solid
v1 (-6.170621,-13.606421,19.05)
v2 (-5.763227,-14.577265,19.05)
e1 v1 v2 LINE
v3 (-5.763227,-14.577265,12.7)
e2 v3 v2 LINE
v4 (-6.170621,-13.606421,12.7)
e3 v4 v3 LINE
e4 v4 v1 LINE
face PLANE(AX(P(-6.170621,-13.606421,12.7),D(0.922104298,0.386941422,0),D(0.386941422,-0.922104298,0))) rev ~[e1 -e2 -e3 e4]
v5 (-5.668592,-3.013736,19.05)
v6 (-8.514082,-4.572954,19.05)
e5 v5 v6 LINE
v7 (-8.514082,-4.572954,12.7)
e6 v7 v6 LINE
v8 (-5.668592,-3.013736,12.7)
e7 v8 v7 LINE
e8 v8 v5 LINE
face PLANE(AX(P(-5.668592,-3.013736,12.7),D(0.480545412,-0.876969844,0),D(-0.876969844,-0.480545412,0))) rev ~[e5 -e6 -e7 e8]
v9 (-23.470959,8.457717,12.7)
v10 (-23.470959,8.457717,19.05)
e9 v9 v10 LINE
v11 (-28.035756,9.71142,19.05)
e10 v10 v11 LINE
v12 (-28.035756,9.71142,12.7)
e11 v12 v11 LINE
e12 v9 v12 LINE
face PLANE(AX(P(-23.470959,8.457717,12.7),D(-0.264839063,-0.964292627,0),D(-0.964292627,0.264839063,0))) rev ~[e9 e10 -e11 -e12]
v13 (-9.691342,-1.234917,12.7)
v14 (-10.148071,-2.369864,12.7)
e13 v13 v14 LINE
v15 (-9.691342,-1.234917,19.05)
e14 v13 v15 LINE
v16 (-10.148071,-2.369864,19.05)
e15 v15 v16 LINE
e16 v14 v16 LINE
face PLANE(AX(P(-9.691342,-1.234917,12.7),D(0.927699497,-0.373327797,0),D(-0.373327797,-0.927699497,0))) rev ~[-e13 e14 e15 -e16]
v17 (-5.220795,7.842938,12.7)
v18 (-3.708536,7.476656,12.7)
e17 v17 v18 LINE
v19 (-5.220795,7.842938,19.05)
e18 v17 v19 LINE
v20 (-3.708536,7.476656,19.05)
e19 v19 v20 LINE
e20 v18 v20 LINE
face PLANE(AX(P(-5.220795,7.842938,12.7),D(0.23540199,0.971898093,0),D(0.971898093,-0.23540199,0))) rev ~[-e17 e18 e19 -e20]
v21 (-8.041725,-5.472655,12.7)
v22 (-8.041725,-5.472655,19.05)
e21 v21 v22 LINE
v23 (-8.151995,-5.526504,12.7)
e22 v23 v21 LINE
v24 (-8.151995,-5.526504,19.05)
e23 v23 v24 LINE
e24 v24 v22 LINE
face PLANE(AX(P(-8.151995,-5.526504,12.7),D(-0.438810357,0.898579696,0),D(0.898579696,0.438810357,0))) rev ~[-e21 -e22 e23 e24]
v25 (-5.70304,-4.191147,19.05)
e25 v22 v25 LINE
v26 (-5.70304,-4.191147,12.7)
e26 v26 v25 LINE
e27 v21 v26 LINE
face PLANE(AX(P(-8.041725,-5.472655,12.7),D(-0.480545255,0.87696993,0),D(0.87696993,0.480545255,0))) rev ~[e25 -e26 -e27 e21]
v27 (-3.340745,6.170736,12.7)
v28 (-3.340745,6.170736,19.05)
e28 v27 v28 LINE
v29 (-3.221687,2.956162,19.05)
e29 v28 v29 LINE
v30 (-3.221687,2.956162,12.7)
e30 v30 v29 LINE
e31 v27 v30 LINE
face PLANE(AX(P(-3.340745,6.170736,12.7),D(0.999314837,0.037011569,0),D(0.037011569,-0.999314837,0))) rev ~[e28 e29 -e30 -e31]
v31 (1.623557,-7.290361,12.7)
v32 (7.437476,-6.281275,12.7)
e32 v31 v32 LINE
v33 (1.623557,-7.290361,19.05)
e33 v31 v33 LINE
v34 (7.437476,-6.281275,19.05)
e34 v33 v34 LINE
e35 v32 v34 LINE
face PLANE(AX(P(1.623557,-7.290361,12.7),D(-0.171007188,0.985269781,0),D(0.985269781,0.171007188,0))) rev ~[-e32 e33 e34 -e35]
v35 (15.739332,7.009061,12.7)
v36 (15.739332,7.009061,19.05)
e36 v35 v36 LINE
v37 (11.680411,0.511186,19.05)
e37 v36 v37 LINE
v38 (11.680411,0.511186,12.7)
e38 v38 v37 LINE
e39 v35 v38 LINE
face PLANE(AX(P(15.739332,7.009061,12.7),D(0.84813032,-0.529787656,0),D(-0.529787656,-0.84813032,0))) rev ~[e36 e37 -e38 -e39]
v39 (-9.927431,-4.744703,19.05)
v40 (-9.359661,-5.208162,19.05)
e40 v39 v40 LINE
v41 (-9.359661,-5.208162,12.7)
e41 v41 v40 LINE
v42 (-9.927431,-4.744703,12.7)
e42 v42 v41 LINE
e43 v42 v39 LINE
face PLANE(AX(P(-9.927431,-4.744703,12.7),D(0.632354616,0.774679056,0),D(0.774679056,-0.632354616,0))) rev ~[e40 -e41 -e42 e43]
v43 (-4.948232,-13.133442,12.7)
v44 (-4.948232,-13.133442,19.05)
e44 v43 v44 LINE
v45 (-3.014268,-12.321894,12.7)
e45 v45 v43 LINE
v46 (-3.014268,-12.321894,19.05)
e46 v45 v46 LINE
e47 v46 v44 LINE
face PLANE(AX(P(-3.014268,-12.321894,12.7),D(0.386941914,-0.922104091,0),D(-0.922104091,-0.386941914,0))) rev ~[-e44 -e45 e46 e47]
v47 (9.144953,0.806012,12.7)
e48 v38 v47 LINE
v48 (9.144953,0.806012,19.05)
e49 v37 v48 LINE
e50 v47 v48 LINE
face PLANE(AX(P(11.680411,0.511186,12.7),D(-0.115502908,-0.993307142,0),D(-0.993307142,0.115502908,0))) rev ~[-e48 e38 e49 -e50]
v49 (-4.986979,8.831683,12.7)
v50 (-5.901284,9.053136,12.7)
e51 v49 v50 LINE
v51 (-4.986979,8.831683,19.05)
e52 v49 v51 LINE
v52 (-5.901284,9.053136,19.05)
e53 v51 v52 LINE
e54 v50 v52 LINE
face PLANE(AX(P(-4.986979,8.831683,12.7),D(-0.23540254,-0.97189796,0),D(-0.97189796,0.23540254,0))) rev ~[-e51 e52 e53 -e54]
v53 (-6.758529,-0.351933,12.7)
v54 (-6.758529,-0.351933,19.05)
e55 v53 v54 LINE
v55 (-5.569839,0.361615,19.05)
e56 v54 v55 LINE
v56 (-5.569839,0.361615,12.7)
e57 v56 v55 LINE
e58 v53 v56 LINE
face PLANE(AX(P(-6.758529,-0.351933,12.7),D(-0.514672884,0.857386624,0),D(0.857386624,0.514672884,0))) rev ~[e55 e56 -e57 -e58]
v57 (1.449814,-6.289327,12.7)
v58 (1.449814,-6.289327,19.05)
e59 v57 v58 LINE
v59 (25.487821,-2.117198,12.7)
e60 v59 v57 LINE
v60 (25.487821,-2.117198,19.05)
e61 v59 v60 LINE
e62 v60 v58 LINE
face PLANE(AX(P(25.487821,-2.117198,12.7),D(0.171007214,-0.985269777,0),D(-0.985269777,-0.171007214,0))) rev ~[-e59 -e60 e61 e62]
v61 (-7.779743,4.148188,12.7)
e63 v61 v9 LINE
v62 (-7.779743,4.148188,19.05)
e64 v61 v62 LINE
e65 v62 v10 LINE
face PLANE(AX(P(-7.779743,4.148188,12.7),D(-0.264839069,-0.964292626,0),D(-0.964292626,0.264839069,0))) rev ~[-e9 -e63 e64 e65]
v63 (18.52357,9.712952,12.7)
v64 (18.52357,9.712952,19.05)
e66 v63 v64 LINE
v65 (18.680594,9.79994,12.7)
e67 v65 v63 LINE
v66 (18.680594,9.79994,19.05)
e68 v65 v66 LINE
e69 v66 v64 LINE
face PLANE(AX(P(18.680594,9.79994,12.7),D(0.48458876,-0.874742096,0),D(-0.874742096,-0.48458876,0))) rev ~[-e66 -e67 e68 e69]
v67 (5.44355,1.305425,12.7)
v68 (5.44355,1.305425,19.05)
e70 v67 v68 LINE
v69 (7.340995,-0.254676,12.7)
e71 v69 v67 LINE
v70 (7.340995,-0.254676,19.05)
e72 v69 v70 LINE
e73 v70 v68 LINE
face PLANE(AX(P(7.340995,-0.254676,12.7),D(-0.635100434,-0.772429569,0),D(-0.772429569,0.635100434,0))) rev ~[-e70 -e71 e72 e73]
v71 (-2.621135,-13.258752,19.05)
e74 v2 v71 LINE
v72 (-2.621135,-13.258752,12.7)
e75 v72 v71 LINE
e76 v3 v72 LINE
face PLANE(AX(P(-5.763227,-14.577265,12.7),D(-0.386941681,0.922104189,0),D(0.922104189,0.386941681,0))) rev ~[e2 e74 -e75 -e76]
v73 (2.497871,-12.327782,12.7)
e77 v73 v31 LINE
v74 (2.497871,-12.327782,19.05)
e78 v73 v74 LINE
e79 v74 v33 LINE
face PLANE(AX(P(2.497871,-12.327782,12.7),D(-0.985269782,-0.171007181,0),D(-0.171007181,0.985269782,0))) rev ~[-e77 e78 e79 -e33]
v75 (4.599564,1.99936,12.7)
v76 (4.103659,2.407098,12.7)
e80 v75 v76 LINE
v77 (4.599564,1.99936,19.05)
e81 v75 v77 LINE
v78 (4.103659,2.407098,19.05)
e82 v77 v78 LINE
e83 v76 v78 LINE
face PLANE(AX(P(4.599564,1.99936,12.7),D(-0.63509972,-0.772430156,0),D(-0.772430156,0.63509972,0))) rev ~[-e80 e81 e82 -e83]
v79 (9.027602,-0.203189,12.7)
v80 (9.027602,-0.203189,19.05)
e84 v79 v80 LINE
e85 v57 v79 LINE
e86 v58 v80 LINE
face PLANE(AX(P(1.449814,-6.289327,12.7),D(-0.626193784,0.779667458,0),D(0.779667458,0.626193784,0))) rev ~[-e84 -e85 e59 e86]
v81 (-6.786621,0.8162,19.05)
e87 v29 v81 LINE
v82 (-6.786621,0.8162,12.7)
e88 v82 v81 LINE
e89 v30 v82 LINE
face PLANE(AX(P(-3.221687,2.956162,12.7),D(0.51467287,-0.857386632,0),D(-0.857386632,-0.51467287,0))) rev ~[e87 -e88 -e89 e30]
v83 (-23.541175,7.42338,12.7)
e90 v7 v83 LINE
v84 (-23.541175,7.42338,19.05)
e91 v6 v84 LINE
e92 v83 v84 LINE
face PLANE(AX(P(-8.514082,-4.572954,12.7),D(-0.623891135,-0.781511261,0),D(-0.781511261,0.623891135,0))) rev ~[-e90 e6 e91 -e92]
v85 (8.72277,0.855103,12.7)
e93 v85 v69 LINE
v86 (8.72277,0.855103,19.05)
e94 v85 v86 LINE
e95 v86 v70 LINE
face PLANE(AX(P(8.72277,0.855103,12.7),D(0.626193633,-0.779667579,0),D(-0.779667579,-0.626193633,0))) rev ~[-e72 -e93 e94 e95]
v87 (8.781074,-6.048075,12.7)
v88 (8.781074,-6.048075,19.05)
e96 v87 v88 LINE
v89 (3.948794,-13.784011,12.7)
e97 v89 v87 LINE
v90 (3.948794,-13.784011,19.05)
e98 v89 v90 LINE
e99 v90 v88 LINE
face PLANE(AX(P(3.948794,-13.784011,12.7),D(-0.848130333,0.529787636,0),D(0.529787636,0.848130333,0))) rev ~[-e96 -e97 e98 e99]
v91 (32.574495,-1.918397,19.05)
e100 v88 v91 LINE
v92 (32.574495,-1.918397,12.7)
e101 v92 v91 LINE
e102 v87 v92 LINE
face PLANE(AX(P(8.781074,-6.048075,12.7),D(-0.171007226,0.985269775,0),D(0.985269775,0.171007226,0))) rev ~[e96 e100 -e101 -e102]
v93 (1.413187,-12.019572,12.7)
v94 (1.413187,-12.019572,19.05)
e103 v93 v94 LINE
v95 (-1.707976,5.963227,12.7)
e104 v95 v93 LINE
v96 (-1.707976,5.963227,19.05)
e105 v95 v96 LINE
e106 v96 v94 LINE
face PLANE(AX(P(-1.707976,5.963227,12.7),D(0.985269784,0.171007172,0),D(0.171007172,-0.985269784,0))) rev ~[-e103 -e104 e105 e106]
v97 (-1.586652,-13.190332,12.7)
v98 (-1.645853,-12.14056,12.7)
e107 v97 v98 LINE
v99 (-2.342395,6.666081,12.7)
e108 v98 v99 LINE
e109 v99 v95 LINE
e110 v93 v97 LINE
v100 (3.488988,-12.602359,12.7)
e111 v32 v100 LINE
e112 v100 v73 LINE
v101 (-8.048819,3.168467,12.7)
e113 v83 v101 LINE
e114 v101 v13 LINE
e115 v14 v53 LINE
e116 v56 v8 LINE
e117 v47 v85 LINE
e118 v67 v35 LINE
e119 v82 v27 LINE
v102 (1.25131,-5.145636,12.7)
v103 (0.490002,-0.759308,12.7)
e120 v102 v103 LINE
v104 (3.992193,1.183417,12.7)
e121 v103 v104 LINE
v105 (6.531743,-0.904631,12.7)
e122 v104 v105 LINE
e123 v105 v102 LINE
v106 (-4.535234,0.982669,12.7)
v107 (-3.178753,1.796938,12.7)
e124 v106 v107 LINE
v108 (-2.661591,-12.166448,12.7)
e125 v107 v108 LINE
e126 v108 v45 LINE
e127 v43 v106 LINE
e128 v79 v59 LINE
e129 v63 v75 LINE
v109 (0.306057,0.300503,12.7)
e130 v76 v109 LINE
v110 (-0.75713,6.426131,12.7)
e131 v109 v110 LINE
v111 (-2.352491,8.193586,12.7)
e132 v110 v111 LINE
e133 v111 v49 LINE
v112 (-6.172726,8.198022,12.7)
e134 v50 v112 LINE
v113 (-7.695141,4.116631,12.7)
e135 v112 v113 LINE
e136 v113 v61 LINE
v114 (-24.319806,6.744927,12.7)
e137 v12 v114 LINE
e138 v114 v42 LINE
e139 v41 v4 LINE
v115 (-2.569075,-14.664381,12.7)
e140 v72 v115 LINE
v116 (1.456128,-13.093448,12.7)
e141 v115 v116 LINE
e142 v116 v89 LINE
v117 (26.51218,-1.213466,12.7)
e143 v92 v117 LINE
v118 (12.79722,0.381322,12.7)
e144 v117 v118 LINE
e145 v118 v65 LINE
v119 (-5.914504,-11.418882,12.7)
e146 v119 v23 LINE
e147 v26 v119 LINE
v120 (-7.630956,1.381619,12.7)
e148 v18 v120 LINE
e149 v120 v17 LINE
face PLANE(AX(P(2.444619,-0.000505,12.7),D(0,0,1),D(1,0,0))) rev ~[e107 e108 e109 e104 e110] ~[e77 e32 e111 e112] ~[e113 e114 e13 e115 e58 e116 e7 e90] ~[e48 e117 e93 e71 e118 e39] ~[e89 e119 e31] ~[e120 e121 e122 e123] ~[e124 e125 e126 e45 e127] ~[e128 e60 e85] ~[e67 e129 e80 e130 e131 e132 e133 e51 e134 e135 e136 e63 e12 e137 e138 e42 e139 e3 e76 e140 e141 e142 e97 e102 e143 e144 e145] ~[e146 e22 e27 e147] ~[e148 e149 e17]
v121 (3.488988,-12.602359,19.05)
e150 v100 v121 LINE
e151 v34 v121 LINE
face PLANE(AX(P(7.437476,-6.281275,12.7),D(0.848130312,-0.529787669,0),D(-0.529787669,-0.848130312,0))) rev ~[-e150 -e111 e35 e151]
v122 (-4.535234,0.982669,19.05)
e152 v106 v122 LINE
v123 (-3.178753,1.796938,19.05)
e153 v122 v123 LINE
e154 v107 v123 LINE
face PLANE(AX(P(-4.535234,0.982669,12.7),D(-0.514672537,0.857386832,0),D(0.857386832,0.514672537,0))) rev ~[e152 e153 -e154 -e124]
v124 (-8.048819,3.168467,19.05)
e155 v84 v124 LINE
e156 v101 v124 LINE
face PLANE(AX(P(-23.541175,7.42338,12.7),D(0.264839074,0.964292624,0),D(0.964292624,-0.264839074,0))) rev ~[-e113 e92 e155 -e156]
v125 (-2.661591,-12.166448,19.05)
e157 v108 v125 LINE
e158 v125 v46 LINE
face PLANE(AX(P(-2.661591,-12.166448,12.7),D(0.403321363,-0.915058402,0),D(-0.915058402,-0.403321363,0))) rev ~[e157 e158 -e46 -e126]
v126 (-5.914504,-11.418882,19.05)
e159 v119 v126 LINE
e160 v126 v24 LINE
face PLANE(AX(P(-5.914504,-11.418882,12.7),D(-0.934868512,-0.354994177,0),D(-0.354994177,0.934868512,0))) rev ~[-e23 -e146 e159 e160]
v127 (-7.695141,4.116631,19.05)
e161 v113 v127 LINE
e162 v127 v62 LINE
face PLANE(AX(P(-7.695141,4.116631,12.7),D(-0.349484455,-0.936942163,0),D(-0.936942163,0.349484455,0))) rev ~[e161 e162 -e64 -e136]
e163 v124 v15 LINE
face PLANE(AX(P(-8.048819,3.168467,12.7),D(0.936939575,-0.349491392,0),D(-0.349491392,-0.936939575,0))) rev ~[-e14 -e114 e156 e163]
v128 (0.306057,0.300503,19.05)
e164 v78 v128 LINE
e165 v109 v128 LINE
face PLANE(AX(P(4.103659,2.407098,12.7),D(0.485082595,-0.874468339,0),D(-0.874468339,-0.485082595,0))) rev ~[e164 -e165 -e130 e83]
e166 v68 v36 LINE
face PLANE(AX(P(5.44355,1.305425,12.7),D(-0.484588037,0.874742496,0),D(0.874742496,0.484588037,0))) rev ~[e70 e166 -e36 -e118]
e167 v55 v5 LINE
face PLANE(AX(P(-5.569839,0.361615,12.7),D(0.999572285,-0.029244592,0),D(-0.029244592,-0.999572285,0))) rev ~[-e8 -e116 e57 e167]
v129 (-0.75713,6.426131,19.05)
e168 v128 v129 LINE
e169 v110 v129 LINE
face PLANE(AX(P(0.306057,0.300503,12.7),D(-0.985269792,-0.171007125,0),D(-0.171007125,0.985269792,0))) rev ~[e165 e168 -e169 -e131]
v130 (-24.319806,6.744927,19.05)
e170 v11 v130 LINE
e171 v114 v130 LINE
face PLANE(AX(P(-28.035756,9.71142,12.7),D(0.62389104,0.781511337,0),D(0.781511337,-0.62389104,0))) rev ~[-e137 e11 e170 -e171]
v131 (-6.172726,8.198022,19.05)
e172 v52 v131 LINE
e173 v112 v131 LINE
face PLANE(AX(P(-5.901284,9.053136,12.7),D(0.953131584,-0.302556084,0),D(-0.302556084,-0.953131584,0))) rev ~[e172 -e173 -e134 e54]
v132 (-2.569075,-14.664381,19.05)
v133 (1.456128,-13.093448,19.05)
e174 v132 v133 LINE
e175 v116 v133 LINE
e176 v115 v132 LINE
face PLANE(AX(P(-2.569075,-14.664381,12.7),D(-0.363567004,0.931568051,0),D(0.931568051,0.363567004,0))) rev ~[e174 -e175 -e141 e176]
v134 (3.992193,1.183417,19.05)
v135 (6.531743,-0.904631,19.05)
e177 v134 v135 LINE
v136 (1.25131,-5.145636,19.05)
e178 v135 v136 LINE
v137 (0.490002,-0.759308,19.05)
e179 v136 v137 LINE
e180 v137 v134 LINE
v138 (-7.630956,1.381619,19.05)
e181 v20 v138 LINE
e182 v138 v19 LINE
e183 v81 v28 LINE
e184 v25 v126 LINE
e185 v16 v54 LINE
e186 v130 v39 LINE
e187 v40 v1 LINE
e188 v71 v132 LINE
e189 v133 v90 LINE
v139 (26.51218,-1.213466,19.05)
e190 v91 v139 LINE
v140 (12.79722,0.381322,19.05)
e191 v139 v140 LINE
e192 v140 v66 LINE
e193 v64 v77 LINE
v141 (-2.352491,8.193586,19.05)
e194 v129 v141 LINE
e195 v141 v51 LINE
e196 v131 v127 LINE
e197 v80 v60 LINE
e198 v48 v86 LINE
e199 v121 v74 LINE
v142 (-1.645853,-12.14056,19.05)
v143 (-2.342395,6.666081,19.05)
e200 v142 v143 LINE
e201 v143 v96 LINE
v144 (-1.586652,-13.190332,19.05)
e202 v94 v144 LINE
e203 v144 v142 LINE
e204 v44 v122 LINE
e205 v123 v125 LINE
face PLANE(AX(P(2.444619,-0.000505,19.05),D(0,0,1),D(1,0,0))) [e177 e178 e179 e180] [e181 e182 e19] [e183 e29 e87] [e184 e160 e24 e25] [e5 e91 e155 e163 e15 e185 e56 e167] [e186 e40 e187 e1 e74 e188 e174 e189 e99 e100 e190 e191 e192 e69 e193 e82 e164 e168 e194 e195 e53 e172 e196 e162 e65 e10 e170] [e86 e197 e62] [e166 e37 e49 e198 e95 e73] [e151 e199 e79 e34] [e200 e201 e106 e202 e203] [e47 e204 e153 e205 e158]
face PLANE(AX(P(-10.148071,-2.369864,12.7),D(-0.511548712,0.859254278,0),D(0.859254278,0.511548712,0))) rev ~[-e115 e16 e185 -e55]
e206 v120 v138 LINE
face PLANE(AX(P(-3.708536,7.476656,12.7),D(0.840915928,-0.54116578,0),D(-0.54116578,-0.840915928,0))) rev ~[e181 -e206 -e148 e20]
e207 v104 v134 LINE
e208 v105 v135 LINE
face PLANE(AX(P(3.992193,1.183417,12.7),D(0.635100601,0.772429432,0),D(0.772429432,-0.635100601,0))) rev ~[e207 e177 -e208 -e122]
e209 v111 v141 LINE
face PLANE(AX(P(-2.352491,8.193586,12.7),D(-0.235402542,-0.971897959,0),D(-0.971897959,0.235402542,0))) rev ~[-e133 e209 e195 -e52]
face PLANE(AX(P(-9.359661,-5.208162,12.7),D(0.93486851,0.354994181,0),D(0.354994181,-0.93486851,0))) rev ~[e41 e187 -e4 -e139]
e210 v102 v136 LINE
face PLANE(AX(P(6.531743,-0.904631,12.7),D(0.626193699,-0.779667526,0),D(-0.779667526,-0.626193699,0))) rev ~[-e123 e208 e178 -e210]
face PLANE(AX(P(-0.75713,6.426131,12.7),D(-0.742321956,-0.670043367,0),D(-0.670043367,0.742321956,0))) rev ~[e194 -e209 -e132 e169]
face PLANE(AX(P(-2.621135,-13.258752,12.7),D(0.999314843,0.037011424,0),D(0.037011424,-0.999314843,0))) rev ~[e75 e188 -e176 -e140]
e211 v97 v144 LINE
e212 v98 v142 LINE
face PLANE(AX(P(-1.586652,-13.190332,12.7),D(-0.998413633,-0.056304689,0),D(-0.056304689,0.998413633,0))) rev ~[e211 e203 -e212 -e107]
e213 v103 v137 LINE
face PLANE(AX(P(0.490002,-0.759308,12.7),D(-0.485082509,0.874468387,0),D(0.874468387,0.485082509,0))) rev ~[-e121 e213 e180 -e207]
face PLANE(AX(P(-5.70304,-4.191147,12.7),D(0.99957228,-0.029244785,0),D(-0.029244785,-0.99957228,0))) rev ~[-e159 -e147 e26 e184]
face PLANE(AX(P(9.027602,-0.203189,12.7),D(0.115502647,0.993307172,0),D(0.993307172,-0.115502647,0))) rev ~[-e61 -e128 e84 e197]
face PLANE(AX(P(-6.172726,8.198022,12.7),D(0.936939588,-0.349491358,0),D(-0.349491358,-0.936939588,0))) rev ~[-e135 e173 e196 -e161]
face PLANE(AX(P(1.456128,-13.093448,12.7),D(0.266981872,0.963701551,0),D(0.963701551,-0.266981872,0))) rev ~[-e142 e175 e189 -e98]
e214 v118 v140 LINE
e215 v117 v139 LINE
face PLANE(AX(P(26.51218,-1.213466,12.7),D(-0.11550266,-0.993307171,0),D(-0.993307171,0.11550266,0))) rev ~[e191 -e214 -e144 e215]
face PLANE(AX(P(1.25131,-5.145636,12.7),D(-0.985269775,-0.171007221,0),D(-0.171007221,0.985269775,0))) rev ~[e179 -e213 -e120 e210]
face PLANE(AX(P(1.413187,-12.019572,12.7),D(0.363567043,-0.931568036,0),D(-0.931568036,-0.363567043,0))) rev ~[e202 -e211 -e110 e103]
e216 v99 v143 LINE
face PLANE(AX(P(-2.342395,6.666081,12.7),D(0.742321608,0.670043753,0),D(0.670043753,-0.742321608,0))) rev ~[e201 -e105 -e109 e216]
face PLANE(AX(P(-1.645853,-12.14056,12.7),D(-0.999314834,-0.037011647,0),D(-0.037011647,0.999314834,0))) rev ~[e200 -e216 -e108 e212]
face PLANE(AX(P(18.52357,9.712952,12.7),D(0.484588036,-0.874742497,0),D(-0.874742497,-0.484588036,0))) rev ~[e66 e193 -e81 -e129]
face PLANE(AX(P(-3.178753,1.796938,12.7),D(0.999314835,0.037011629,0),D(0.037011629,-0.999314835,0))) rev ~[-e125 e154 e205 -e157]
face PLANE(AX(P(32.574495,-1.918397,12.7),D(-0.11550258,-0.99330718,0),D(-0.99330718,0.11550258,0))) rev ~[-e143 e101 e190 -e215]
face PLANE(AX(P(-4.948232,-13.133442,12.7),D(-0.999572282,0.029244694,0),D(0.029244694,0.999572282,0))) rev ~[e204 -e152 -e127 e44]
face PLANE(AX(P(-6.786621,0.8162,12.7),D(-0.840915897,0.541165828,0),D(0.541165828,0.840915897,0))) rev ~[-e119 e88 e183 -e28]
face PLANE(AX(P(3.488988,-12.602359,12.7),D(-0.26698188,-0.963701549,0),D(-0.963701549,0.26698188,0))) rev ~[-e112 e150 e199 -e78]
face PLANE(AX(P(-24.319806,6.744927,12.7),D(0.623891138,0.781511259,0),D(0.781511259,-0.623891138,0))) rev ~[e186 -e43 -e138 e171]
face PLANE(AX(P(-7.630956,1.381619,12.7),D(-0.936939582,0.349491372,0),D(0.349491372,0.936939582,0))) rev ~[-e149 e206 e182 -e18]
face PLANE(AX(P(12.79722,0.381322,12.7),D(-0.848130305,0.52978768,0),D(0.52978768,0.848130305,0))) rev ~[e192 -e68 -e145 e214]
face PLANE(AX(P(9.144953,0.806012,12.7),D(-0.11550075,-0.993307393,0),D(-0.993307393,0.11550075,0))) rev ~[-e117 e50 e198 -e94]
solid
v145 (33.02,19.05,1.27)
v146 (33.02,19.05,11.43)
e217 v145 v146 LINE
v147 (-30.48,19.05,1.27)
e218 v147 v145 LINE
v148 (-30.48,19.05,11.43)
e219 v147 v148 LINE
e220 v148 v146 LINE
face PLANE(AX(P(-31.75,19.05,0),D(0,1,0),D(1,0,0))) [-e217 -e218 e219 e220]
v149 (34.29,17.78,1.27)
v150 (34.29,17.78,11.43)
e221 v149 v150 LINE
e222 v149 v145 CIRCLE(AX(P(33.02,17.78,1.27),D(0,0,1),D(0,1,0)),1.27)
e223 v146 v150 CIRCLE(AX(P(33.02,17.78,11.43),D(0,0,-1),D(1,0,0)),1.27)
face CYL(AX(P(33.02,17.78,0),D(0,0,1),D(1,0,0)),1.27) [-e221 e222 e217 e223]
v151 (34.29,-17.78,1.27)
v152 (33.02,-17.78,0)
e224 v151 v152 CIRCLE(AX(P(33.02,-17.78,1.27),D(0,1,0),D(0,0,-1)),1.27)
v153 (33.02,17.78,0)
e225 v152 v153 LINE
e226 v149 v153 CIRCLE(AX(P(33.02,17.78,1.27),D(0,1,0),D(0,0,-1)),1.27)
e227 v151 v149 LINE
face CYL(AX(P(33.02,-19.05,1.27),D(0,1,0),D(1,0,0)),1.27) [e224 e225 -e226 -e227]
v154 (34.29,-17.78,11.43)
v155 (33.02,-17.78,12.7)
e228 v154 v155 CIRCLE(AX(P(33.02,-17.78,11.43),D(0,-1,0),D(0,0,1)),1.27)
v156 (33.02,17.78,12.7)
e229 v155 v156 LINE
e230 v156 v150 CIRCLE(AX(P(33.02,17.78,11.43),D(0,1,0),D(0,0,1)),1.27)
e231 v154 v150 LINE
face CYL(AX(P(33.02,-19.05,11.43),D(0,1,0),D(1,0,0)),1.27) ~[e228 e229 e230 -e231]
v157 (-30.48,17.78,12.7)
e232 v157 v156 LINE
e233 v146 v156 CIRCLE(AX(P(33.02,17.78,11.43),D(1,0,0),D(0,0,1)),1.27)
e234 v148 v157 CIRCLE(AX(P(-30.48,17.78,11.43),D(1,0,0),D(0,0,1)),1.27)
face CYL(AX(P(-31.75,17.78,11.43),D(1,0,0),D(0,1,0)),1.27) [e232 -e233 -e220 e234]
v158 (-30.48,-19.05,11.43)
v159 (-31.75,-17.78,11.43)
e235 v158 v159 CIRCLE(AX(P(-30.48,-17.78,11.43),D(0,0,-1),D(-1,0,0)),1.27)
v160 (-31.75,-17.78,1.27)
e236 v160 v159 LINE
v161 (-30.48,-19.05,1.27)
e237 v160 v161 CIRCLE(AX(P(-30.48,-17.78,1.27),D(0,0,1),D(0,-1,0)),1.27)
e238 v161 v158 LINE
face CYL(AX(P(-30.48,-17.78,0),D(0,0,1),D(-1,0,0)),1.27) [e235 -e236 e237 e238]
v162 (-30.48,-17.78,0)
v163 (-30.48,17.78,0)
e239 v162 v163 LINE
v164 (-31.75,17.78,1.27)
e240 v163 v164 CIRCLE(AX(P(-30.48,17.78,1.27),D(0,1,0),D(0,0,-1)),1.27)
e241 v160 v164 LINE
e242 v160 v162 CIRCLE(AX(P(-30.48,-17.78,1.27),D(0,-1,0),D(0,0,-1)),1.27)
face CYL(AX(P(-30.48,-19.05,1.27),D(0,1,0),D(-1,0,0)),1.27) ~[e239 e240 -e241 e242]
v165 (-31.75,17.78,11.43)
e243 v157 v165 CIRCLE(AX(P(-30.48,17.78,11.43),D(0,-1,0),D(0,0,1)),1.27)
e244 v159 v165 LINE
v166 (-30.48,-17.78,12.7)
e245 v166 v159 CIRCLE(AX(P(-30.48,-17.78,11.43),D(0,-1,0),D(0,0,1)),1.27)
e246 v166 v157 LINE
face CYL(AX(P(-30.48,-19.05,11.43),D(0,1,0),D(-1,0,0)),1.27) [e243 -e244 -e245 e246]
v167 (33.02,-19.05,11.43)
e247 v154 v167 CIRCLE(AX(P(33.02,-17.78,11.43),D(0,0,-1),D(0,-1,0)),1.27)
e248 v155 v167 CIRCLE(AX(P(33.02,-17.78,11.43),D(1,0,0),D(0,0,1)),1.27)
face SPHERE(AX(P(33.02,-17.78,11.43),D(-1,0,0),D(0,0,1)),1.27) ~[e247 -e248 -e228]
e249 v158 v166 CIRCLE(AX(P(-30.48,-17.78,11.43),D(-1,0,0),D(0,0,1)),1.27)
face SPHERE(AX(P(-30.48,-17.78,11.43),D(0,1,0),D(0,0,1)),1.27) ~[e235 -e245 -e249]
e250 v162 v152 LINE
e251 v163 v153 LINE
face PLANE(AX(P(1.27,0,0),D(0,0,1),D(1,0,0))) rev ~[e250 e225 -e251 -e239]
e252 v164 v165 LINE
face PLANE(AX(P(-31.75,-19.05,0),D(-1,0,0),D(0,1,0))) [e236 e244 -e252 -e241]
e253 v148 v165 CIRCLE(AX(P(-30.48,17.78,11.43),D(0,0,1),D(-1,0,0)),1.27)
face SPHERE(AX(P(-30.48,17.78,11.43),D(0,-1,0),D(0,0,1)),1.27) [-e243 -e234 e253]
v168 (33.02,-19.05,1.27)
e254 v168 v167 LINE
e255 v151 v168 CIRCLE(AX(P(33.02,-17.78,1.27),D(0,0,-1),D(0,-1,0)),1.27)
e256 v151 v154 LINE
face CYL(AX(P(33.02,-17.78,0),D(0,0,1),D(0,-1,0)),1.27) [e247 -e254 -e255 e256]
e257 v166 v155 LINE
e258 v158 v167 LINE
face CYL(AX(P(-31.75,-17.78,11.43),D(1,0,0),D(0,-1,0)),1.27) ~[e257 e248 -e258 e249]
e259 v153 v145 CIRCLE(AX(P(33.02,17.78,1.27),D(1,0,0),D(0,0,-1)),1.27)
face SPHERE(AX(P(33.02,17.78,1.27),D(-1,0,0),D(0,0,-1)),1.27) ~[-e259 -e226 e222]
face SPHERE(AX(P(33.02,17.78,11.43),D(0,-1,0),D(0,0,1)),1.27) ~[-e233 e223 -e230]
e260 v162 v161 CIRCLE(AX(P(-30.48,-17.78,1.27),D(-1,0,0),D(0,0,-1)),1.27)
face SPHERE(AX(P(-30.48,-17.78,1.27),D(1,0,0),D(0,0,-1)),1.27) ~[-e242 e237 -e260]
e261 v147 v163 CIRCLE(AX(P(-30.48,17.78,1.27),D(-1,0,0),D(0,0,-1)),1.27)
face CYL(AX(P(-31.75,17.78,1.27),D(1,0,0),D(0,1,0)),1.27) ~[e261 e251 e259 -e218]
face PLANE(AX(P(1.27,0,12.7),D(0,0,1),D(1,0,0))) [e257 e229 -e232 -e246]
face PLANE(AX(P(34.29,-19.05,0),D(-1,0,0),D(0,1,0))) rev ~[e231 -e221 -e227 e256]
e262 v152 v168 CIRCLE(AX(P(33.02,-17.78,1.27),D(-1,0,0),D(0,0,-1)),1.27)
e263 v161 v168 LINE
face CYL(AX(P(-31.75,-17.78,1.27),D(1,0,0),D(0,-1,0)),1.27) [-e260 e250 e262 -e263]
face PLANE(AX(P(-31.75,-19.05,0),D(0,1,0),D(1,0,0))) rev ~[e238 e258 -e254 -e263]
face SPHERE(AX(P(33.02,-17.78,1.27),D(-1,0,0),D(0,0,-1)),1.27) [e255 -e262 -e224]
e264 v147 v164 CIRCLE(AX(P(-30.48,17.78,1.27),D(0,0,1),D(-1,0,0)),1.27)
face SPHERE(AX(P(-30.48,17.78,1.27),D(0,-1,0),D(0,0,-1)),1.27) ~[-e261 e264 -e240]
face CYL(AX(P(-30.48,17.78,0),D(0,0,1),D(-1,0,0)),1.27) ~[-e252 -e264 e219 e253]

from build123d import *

# Parameters (mm, degrees)
F0_W     = 66.04
F0_H     = 38.1
F1_DEPTH = 12.7
F3_DEPTH = 6.35
F4_R     = 1.27


with BuildPart() as f1:
    # F0 (on Top) → F1 (new body)
    with BuildSketch(Plane.XY):
        with Locations((1.27, 0)):
            Rectangle(F0_W, F0_H)
    extrude(amount=F1_DEPTH)

    # F4
    f4_edges = [f1.edges().sort_by_distance(p)[0] for p in [
        (-31.75, 0, 12.7),
        (1.27, -19.05, 12.7),
        (34.29, 0, 12.7),
        (1.27, 19.05, 12.7),
        (1.27, -19.05, 0),
        (-31.75, 0, 0),
        (1.27, 19.05, 0),
        (34.29, 0, 0),
        (34.29, -19.05, 6.35),
        (34.29, 19.05, 6.35),
        (-31.75, 19.05, 6.35),
        (-31.75, -19.05, 6.35),
    ]]
    fillet(f4_edges, radius=F4_R)


with BuildPart() as f3:
    # F2 (on face) → F3 (new body)
    with BuildSketch(Plane.XY.offset(12.7)):
        Polygon((-2.621135, -13.258752), (-2.569075, -14.664381), (1.456128, -13.093448), (3.948794, -13.784011), (8.781074, -6.048075), (32.574495, -1.918397), (26.51218, -1.213466), (12.79722, 0.381322), (18.680594, 9.79994), (18.52357, 9.712952), (4.599564, 1.99936), (4.103659, 2.407098), (0.306057, 0.300503), (-0.75713, 6.426131), (-2.352491, 8.193586), (-4.986979, 8.831683), (-5.901284, 9.053136), (-6.172726, 8.198022), (-7.695141, 4.116631), (-7.779743, 4.148188), (-23.470959, 8.457717), (-28.035756, 9.71142), (-24.319806, 6.744927), (-9.927431, -4.744703), (-9.359661, -5.208162), (-6.170621, -13.606421), (-5.763227, -14.577265), align=None)
        Polygon((-5.914504, -11.418882), (-8.151995, -5.526504), (-8.041725, -5.472655), (-5.70304, -4.191147), align=None, mode=Mode.SUBTRACT)
        Polygon((-3.014268, -12.321894), (-4.948232, -13.133442), (-4.535234, 0.982669), (-3.178753, 1.796938), (-2.661591, -12.166448), align=None, mode=Mode.SUBTRACT)
        Polygon((-1.707976, 5.963227), (1.413187, -12.019572), (-1.586652, -13.190332), (-1.645853, -12.14056), (-2.342395, 6.666081), align=None, mode=Mode.SUBTRACT)
        Polygon((7.437476, -6.281275), (3.488988, -12.602359), (2.497871, -12.327782), (1.623557, -7.290361), align=None, mode=Mode.SUBTRACT)
        Polygon((0.490002, -0.759308), (3.992193, 1.183417), (6.531743, -0.904631), (1.25131, -5.145636), align=None, mode=Mode.SUBTRACT)
        Polygon((25.487821, -2.117198), (1.449814, -6.289327), (9.027602, -0.203189), align=None, mode=Mode.SUBTRACT)
        Polygon((-8.514082, -4.572954), (-23.541175, 7.42338), (-8.048819, 3.168467), (-9.691342, -1.234917), (-10.148071, -2.369864), (-6.758529, -0.351933), (-5.569839, 0.361615), (-5.668592, -3.013736), align=None, mode=Mode.SUBTRACT)
        Polygon((-3.221687, 2.956162), (-6.786621, 0.8162), (-3.340745, 6.170736), align=None, mode=Mode.SUBTRACT)
        Polygon((-5.220795, 7.842938), (-3.708536, 7.476656), (-7.630956, 1.381619), align=None, mode=Mode.SUBTRACT)
        Polygon((5.44355, 1.305425), (15.739332, 7.009061), (11.680411, 0.511186), (9.144953, 0.806012), (8.72277, 0.855103), (7.340995, -0.254676), align=None, mode=Mode.SUBTRACT)
    extrude(amount=F3_DEPTH)


solid = Compound([f1.part, f3.part])
